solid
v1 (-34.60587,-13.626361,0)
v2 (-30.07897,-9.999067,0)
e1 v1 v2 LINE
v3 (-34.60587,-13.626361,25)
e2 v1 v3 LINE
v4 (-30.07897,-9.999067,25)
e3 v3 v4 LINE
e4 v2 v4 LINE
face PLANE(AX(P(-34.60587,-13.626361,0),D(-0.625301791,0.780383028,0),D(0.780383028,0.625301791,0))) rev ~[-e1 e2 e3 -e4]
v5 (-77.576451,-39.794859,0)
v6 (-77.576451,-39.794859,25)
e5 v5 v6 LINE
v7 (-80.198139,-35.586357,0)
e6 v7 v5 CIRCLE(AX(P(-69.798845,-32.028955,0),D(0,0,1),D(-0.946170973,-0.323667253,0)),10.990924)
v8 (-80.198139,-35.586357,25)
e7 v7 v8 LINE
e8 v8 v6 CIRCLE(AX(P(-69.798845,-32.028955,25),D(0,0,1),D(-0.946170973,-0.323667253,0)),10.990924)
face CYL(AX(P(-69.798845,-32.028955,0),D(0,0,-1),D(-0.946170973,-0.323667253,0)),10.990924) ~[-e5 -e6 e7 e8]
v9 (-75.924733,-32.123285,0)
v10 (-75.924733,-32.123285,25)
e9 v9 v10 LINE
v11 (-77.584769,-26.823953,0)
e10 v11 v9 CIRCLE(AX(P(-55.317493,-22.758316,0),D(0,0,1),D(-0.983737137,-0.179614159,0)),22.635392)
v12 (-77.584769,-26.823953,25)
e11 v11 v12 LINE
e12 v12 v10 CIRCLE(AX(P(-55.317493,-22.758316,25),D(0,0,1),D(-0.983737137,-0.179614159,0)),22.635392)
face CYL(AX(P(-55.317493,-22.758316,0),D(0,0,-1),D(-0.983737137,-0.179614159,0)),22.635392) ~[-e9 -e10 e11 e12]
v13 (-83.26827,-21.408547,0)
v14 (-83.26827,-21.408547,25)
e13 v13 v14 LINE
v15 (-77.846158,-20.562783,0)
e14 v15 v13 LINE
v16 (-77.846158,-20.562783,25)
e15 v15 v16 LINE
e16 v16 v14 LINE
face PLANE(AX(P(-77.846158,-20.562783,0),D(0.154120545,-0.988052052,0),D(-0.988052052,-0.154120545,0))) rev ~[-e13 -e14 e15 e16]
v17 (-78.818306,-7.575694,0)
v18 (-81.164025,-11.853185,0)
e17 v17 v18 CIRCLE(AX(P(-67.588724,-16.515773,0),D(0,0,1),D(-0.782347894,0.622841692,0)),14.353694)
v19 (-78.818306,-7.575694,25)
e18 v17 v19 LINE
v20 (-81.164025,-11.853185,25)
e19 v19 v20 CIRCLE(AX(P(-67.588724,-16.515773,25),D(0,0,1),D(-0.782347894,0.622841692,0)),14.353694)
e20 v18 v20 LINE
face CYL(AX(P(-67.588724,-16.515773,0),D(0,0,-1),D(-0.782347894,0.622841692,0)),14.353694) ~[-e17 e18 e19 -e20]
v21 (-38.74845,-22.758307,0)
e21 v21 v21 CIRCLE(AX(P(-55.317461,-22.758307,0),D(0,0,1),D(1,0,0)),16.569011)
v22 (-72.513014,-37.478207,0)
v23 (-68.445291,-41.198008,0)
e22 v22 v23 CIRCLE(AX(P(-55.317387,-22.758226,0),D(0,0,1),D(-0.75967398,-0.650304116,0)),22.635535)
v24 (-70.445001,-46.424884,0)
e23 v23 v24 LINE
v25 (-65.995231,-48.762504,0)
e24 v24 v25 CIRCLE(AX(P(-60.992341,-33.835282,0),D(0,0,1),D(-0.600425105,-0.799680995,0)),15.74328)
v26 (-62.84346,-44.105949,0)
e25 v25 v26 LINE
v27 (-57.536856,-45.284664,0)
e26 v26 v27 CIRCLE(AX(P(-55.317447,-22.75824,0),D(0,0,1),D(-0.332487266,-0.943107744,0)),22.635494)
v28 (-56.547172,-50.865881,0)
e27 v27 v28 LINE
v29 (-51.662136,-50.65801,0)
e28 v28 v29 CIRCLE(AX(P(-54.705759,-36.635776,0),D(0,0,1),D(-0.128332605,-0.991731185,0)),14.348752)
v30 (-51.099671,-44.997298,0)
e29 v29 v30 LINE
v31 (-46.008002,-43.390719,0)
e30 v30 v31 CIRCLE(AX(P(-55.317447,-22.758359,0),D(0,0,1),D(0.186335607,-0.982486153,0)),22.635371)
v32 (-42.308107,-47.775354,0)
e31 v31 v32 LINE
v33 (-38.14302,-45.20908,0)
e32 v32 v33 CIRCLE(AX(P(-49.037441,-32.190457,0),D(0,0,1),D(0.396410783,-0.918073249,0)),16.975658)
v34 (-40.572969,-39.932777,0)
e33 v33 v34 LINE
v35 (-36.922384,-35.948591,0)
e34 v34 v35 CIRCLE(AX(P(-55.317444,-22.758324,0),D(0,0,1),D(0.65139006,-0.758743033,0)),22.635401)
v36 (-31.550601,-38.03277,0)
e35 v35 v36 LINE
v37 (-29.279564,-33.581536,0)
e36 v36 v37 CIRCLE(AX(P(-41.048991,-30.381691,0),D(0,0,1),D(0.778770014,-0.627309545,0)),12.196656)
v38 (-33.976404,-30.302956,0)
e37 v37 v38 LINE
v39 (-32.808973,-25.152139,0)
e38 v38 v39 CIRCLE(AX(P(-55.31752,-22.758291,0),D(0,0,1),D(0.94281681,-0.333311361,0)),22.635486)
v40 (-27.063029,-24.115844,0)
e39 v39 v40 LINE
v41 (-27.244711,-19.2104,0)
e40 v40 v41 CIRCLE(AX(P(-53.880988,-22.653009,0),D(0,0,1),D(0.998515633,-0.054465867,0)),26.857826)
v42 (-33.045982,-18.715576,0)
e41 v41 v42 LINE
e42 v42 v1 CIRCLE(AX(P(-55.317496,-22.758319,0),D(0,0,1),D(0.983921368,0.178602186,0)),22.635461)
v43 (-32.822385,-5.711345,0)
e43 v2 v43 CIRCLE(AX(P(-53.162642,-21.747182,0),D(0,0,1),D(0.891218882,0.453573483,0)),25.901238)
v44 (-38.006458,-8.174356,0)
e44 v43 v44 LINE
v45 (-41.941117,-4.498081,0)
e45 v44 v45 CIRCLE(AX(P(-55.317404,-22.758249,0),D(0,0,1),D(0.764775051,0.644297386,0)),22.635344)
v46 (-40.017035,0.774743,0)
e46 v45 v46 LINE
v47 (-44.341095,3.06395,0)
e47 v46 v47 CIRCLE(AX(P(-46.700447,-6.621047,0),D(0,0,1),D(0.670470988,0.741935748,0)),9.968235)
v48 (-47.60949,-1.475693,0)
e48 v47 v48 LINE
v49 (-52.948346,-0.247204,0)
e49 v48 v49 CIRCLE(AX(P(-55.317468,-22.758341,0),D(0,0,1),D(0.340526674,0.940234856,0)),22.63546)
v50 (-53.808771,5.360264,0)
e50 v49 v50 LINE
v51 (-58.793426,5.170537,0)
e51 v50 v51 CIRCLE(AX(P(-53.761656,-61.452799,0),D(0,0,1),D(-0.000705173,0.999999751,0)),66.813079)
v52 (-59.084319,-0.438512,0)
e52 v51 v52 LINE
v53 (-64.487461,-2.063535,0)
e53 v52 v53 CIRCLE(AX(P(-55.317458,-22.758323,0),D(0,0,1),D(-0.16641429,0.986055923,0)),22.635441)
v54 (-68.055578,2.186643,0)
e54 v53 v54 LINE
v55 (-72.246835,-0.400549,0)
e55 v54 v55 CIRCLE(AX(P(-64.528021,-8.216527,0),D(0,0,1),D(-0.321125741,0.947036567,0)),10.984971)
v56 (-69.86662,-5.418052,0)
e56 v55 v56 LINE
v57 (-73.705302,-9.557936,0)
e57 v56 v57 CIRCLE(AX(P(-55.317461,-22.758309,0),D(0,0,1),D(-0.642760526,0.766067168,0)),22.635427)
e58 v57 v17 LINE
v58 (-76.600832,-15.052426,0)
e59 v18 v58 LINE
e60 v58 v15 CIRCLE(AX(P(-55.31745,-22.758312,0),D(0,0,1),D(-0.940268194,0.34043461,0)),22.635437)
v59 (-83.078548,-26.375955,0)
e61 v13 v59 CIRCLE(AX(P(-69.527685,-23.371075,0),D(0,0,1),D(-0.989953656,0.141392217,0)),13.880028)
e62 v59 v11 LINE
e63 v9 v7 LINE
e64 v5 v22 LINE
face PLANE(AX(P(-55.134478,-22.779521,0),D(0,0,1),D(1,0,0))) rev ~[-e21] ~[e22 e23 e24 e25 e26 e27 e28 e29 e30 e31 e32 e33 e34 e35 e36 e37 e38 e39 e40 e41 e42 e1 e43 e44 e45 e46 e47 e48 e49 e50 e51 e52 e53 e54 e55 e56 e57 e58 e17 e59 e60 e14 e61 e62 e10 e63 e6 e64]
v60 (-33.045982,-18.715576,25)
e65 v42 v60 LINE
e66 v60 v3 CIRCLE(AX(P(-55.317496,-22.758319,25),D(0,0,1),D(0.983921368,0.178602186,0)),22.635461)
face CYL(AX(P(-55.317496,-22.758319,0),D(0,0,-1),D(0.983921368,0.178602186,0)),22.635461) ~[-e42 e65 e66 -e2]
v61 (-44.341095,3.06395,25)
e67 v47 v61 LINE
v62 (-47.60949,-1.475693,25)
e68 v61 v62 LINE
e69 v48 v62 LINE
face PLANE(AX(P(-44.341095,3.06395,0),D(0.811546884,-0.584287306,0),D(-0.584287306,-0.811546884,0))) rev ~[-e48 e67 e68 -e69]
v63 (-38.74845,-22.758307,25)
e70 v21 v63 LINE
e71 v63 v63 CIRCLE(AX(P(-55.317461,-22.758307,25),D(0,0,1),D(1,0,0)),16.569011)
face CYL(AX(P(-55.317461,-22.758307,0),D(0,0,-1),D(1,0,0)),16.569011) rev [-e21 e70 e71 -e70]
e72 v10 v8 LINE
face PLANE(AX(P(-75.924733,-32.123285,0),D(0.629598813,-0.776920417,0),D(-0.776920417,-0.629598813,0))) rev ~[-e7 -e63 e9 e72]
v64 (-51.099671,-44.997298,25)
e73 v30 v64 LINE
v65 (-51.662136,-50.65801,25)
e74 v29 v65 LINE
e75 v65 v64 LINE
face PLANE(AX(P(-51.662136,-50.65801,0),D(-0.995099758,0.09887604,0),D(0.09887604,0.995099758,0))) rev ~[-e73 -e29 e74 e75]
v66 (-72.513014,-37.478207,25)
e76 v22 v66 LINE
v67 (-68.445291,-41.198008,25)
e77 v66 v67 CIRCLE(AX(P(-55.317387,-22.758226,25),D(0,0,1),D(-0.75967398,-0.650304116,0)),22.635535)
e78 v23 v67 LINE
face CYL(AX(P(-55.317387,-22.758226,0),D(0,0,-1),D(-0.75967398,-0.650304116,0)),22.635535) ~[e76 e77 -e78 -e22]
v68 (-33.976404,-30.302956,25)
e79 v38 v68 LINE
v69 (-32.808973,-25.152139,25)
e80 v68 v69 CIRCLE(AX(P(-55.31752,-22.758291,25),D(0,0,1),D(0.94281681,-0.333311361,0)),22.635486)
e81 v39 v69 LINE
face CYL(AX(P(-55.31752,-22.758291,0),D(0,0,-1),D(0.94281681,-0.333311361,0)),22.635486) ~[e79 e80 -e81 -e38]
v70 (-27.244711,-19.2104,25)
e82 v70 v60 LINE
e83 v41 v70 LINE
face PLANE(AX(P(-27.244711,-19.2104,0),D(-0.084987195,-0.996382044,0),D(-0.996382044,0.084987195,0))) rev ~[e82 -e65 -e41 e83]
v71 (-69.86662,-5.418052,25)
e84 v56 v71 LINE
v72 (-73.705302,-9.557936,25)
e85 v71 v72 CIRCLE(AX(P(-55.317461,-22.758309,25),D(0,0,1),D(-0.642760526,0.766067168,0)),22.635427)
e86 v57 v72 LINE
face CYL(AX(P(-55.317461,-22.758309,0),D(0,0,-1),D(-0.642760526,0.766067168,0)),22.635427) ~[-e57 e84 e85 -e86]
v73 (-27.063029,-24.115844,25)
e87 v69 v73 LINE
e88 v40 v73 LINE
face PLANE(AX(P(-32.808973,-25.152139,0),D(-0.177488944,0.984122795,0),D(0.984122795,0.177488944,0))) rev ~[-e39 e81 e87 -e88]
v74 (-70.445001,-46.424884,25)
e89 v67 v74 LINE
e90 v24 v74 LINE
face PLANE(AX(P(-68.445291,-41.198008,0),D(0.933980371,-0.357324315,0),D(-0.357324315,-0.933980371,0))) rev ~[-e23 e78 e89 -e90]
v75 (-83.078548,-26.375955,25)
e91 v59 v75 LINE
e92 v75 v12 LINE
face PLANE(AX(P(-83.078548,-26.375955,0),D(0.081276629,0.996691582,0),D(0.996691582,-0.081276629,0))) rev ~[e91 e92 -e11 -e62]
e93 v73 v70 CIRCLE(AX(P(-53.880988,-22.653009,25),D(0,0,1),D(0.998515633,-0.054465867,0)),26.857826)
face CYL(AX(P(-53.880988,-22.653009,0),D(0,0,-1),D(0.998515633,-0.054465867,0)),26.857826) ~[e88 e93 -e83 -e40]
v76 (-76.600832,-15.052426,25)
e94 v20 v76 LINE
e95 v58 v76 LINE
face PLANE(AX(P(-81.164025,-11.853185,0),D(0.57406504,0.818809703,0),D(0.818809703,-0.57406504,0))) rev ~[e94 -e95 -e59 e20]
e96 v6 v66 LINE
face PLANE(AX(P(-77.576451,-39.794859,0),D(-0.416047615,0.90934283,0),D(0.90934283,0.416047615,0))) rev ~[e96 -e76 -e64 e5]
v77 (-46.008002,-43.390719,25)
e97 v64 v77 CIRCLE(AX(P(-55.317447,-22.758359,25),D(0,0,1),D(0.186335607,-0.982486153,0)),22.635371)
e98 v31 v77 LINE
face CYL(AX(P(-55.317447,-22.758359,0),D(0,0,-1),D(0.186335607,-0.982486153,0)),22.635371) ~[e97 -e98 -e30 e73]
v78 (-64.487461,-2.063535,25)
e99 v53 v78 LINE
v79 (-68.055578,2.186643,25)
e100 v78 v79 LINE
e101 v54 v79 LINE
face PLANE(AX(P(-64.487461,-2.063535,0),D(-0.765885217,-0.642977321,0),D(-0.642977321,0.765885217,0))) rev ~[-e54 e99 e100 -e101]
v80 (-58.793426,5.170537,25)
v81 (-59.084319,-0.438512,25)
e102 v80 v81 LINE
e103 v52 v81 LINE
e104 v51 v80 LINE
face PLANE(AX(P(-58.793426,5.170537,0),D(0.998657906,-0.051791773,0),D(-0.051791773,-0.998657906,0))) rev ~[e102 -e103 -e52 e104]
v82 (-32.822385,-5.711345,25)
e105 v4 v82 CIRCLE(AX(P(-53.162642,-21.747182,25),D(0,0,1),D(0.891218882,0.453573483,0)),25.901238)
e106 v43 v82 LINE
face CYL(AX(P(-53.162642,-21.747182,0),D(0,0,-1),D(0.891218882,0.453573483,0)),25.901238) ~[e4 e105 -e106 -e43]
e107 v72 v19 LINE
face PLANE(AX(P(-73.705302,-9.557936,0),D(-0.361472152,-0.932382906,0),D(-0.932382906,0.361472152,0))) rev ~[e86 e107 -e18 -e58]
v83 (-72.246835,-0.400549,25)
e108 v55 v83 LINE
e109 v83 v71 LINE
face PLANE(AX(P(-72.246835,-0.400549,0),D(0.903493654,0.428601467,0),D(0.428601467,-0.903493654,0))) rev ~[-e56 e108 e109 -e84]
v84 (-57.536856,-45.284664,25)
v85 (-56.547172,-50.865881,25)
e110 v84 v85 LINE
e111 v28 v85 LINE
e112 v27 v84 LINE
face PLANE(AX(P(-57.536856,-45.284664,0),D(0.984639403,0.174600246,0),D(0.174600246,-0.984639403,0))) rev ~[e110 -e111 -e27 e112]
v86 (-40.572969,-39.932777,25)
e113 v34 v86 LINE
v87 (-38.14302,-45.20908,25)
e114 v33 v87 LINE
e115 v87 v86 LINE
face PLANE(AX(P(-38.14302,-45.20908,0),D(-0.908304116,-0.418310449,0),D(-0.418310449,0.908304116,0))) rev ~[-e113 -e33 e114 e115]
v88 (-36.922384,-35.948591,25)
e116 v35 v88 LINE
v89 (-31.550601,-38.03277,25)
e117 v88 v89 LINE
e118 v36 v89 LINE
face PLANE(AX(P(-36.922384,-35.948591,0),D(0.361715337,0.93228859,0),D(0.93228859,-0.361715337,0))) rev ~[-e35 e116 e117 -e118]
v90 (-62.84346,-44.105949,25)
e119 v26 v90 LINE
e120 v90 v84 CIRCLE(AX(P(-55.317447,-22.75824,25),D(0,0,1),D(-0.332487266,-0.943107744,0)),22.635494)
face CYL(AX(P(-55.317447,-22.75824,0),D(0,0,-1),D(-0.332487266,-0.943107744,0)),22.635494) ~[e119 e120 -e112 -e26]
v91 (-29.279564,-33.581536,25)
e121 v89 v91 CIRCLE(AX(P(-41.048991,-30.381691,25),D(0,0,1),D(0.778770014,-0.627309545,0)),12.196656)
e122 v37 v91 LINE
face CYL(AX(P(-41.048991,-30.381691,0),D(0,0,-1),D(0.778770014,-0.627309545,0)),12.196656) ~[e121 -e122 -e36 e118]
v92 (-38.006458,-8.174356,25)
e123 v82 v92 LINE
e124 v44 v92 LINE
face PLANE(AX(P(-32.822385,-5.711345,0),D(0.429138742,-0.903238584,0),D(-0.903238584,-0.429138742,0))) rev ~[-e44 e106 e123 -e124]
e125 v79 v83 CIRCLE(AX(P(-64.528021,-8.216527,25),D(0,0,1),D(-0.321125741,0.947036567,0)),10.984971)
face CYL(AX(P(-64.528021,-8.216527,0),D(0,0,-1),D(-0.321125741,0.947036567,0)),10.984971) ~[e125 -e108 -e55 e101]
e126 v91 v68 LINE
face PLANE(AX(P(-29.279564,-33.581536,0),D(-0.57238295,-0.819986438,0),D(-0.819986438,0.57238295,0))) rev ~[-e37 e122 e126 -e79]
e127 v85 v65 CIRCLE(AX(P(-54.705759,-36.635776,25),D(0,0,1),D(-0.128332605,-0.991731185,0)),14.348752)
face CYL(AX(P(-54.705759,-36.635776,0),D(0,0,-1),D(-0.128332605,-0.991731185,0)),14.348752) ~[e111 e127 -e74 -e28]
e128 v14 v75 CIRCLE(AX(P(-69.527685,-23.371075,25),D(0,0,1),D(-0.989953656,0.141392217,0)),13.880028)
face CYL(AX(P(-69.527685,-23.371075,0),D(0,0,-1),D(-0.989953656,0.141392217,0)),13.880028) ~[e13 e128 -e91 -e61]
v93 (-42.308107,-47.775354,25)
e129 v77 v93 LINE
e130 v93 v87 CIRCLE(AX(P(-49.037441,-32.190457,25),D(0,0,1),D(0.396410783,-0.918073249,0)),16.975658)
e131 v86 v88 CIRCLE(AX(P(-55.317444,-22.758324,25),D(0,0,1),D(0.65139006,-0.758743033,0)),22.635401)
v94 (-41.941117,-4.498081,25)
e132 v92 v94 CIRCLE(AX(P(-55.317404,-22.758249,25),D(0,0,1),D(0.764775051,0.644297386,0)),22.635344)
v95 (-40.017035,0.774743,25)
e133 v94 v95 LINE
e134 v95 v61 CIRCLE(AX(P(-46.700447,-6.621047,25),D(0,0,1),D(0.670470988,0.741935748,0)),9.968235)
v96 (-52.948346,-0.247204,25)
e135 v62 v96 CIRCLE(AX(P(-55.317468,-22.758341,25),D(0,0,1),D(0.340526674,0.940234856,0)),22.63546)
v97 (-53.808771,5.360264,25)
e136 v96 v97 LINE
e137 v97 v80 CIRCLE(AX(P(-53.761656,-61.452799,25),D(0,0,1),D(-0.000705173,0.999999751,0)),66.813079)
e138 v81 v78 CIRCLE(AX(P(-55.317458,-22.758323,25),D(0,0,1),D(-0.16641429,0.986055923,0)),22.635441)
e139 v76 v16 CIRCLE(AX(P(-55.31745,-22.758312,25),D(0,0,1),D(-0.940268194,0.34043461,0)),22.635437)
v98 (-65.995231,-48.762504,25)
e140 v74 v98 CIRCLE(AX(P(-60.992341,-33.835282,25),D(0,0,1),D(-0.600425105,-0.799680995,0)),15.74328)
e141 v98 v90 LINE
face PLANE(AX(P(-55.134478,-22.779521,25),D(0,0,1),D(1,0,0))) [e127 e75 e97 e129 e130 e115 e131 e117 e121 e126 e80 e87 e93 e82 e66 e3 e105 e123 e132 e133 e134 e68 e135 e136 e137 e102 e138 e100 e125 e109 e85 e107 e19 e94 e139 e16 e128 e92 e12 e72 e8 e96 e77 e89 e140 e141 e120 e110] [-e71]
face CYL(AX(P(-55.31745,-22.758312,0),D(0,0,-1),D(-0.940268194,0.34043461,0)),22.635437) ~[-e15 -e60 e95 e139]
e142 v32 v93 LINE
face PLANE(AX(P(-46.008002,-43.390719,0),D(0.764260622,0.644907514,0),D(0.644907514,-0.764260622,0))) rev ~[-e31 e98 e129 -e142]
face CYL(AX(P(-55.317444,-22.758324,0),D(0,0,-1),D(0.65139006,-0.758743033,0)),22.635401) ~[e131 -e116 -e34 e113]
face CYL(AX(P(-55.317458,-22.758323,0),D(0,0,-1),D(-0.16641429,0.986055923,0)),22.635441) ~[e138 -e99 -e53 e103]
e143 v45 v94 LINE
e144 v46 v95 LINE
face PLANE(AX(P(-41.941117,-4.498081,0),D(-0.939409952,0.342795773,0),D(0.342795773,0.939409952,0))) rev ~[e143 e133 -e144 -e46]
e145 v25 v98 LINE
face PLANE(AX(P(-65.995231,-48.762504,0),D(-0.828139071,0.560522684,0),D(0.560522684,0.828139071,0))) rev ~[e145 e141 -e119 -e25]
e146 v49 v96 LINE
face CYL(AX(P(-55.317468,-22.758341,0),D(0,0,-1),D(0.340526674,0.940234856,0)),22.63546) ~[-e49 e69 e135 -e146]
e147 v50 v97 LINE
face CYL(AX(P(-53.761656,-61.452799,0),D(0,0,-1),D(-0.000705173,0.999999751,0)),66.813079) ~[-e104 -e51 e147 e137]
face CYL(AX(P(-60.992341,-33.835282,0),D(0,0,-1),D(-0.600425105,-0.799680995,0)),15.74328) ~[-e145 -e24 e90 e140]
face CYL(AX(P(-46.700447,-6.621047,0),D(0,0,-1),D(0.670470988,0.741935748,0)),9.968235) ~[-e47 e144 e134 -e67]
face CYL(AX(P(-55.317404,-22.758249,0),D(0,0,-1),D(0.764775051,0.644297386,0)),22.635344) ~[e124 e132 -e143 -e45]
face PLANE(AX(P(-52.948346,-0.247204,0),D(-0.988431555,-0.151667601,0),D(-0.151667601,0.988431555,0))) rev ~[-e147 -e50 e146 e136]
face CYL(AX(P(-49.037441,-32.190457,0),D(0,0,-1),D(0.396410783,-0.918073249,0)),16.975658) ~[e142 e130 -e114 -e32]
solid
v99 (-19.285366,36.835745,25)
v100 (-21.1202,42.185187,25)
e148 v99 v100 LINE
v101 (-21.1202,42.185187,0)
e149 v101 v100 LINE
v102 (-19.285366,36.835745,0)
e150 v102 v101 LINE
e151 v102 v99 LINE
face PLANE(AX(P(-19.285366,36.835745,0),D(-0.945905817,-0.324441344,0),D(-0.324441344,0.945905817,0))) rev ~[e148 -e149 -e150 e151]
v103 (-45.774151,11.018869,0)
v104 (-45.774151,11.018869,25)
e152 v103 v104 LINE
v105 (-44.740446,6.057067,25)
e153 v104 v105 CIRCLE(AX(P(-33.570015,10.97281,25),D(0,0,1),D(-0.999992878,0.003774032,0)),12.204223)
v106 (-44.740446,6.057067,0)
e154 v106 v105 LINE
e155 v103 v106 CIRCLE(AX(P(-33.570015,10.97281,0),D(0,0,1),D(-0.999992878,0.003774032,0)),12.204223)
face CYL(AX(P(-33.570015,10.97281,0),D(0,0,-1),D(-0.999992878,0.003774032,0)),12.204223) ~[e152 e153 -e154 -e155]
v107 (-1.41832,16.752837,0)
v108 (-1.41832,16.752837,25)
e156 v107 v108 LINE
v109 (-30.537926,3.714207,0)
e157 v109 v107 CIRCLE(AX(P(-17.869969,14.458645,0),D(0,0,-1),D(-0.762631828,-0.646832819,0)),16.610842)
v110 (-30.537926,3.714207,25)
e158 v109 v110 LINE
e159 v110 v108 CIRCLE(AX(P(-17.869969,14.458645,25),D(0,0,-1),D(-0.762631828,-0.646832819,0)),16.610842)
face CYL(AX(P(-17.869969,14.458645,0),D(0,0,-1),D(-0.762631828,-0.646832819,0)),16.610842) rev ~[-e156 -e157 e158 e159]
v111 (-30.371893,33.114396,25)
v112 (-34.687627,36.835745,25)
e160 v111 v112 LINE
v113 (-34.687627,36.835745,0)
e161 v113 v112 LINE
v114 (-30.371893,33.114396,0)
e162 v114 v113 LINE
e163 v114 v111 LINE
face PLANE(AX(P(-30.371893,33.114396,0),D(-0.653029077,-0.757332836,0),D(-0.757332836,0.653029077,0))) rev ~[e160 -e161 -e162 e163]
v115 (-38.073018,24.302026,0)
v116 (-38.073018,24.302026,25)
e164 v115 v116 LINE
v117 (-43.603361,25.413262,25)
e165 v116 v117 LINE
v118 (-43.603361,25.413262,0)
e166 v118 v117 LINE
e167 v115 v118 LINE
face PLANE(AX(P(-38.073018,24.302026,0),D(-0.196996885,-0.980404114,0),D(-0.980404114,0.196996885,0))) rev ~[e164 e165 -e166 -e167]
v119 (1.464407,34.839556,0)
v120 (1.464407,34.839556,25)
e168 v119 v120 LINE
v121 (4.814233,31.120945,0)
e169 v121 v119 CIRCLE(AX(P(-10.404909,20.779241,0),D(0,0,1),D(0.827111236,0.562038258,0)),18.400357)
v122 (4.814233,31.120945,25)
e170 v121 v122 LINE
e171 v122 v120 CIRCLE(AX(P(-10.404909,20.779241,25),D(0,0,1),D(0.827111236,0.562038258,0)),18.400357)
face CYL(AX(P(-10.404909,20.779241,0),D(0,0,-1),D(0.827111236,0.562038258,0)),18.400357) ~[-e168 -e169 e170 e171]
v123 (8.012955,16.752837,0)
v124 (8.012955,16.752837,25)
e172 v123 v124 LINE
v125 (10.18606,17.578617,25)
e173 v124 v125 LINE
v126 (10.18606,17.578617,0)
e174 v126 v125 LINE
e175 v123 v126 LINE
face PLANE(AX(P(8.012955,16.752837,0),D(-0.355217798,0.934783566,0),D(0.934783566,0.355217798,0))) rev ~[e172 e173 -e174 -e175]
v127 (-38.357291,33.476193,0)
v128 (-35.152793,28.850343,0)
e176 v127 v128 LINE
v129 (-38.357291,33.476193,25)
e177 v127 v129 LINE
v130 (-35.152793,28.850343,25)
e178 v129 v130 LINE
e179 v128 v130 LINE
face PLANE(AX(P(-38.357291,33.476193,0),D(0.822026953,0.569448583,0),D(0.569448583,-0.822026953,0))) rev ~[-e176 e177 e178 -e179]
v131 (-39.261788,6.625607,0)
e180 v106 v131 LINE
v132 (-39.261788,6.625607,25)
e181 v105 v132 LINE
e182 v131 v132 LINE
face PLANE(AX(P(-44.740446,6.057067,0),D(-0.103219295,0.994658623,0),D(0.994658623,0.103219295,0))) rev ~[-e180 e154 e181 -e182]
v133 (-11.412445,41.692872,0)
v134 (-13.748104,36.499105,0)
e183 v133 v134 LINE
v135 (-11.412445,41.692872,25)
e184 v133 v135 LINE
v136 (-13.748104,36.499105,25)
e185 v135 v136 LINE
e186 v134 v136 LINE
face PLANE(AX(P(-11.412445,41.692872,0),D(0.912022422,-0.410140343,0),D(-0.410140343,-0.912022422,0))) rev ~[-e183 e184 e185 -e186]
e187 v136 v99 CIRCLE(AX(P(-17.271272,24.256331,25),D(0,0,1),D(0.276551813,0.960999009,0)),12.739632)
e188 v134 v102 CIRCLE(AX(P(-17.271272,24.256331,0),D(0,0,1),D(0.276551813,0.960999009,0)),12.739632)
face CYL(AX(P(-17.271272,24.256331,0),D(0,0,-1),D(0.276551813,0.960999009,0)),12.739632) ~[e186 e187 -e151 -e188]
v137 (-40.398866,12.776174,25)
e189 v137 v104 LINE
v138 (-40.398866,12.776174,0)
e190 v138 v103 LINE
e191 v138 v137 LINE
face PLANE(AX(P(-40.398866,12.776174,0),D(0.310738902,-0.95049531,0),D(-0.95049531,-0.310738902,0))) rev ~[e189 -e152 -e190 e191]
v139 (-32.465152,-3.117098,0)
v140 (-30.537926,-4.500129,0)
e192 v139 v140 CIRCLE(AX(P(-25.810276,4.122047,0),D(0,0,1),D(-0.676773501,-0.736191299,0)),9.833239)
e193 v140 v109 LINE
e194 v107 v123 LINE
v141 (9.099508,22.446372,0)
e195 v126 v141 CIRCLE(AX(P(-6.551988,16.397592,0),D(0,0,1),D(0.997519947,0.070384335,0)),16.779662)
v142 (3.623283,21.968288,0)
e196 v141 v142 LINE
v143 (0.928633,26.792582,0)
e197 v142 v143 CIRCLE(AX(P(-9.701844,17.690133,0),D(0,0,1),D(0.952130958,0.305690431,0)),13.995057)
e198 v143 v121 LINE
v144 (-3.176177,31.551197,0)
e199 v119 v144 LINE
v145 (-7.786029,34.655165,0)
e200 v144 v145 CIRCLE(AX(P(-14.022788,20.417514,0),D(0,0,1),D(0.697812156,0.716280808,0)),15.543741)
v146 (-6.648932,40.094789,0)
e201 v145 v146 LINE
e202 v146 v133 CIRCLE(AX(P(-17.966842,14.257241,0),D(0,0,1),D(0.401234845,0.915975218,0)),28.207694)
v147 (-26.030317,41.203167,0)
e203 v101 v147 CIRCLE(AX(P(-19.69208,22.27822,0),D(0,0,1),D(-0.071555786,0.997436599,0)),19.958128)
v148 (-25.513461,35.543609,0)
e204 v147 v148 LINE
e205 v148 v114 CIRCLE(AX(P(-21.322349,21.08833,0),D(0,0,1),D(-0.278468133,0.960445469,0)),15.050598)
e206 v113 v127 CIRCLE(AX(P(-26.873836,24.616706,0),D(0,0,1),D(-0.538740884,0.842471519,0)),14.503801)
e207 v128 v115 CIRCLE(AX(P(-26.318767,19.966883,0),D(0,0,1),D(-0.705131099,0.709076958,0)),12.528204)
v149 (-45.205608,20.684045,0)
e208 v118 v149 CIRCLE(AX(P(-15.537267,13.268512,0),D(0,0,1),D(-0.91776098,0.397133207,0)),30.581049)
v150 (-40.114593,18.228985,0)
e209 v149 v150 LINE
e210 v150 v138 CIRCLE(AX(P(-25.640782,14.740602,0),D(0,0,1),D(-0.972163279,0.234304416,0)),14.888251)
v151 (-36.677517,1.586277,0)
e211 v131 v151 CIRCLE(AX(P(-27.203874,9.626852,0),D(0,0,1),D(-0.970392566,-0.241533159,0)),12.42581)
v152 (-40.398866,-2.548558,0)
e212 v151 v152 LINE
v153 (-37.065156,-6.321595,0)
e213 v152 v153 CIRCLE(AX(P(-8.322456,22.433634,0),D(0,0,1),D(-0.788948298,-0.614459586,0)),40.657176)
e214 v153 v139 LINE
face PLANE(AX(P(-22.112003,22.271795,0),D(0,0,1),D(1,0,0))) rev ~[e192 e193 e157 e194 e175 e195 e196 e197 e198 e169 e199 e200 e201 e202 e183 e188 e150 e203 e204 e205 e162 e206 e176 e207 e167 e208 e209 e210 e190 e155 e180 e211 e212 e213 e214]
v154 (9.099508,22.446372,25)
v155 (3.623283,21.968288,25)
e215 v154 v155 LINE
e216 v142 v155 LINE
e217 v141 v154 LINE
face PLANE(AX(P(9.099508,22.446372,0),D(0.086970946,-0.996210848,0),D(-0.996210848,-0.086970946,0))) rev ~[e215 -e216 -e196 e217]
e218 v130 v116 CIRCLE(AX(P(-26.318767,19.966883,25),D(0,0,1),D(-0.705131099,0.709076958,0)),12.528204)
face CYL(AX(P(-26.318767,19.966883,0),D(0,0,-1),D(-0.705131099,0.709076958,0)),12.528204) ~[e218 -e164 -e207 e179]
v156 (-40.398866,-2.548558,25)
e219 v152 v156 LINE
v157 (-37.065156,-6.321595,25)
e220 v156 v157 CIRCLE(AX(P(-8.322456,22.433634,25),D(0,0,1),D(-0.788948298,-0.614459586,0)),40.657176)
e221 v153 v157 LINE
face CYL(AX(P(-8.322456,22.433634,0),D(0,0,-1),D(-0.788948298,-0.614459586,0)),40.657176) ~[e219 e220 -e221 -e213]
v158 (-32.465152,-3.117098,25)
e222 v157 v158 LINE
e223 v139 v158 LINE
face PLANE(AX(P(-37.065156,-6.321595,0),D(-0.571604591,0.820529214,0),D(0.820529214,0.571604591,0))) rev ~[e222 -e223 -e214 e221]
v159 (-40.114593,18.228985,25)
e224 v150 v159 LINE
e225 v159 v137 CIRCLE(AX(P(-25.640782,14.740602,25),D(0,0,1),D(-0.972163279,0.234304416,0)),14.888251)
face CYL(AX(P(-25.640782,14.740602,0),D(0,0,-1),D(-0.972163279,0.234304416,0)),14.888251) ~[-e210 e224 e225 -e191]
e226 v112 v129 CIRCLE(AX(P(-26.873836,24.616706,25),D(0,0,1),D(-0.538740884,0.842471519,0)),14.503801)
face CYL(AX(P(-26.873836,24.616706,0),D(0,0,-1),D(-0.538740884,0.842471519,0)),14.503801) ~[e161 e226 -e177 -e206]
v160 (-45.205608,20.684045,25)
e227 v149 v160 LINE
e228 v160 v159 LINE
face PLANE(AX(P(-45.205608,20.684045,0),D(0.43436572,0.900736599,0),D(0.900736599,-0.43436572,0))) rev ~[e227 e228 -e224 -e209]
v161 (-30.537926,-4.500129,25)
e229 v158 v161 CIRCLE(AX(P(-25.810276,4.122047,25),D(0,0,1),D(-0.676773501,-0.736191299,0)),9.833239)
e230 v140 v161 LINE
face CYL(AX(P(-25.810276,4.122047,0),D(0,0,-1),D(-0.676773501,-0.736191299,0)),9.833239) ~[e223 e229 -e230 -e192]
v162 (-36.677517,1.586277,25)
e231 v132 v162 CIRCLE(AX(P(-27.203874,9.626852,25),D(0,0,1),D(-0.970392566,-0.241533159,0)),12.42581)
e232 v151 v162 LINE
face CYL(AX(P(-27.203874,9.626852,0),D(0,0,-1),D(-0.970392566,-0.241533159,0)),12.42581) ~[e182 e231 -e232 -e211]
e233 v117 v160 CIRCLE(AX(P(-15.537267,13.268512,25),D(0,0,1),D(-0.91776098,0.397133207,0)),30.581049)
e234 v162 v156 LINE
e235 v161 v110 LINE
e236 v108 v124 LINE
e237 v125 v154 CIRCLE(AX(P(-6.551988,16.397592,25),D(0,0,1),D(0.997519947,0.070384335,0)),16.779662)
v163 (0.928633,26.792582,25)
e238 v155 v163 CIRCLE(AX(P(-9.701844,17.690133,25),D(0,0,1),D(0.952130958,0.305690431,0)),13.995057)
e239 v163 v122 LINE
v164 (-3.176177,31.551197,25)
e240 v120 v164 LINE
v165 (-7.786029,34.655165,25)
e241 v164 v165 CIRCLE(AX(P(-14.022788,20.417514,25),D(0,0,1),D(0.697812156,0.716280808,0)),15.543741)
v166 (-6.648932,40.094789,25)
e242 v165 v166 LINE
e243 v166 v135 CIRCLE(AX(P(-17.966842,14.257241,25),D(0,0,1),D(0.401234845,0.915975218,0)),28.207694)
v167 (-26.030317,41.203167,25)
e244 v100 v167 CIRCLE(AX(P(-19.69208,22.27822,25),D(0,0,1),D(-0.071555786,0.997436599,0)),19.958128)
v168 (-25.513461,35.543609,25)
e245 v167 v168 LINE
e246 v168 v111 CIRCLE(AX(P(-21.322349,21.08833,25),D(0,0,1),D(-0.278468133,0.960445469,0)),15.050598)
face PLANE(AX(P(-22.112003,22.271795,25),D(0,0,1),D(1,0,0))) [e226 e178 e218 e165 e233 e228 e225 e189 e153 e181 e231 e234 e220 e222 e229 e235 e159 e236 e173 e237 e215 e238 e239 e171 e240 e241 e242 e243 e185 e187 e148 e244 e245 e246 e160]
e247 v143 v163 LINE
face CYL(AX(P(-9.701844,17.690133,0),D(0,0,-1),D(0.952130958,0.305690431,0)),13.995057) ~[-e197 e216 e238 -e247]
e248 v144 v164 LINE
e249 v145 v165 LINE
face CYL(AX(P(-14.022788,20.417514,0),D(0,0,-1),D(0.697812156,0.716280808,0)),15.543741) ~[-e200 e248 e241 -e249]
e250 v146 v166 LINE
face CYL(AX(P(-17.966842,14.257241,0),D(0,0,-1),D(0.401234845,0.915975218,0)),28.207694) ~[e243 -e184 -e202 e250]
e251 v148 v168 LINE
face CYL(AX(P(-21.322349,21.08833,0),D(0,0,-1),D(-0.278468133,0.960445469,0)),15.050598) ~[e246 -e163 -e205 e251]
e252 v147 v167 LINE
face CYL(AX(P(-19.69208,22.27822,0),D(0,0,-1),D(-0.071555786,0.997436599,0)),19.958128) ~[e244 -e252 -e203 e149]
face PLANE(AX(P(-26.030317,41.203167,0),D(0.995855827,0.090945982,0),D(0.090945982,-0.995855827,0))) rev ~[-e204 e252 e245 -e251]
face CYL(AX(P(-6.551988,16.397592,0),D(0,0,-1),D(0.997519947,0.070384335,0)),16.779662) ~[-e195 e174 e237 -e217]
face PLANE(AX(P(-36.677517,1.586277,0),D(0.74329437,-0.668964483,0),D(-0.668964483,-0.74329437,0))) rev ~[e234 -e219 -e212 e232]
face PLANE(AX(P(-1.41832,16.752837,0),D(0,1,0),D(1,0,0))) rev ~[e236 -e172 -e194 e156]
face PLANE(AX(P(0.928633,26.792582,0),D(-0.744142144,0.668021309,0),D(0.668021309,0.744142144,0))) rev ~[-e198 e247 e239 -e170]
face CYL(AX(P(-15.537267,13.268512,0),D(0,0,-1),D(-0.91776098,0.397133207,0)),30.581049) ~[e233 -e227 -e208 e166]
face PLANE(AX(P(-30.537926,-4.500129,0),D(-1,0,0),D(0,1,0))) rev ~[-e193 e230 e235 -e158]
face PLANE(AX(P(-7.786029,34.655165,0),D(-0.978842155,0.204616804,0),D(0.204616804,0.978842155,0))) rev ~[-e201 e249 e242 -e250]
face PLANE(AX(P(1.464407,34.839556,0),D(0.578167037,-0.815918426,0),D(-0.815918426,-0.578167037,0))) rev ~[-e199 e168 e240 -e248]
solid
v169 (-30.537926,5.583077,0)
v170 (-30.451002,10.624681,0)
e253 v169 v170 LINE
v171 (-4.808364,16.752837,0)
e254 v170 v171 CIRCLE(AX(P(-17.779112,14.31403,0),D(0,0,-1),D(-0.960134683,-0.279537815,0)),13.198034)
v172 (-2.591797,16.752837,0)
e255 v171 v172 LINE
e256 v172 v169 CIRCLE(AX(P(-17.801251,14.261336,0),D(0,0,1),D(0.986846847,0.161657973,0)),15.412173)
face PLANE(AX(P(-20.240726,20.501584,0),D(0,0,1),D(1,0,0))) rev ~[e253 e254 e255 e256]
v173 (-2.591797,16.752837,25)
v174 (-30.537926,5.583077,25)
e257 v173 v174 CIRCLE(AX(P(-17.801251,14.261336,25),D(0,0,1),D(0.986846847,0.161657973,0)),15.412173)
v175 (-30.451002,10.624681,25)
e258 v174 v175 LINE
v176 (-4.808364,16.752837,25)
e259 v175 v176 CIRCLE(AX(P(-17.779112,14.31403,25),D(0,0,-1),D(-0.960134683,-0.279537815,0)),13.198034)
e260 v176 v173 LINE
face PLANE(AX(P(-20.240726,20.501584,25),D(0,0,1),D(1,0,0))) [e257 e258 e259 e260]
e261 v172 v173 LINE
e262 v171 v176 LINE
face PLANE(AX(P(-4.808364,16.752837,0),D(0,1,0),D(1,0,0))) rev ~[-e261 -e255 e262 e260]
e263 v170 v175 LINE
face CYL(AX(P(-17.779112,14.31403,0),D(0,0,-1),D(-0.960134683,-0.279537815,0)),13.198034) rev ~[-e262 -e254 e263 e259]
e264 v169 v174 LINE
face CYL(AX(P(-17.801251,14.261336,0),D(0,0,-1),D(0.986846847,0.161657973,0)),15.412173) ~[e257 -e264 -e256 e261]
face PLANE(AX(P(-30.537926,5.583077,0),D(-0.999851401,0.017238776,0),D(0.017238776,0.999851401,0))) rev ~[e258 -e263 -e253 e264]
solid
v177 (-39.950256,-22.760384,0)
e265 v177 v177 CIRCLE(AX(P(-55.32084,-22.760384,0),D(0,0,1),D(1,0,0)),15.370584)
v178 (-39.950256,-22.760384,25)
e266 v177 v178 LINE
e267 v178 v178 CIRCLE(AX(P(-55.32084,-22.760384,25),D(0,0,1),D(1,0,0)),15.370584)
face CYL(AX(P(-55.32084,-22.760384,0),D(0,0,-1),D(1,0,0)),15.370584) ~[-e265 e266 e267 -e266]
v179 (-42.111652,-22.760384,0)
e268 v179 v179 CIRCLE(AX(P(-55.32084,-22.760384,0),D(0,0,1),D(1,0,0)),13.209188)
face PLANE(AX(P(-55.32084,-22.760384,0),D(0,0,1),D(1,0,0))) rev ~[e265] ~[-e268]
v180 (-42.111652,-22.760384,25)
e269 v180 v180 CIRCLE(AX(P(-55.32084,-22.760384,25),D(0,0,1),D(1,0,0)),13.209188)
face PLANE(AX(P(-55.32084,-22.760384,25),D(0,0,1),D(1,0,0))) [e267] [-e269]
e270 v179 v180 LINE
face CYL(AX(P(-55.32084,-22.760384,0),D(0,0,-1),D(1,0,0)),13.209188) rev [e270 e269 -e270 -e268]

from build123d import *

# Parameters (mm, degrees)
F1_R     = 16.569011
F2_R     = 15.370584
F2_R_2   = 13.209188
F3_DEPTH = 25


with BuildPart() as f3:
    # F0 (on Top) + F1 (on Top) + F2 (on Top) → F3 (new body)
    with BuildSketch(Plane.XY):
        with BuildLine():
            Line((-30.537926, 5.583077), (-30.451002, 10.624681))
            ThreePointArc((-30.451002, 10.624681), (-20.846832, 27.150587), (-4.808364, 16.752837))
            Line((-4.808364, 16.752837), (-2.591797, 16.752837))
            ThreePointArc((-2.591797, 16.752837), (-23.521351, 28.572714), (-30.537926, 5.583077))
        make_face()
        with BuildLine():
            Line((-30.537926, -4.500129), (-30.537926, 3.714207))
            ThreePointArc((-30.537926, 3.714207), (-24.658235, 29.619104), (-1.41832, 16.752837))
            Line((-1.41832, 16.752837), (8.012955, 16.752837))
            Line((8.012955, 16.752837), (10.18606, 17.578617))
            ThreePointArc((10.18606, 17.578617), (9.824654, 20.05309), (9.099508, 22.446372))
            Line((9.099508, 22.446372), (3.623283, 21.968288))
            ThreePointArc((3.623283, 21.968288), (2.516429, 24.514752), (0.928633, 26.792582))
            Line((0.928633, 26.792582), (4.814233, 31.120945))
            ThreePointArc((4.814233, 31.120945), (3.266344, 33.094677), (1.464407, 34.839556))
            Line((1.464407, 34.839556), (-3.176177, 31.551197))
            ThreePointArc((-3.176177, 31.551197), (-5.341254, 33.310878), (-7.786029, 34.655165))
            Line((-7.786029, 34.655165), (-6.648932, 40.094789))
            ThreePointArc((-6.648932, 40.094789), (-8.995036, 41.000103), (-11.412445, 41.692872))
            Line((-11.412445, 41.692872), (-13.748104, 36.499105))
            ThreePointArc((-13.748104, 36.499105), (-16.498189, 36.972485), (-19.285366, 36.835745))
            Line((-19.285366, 36.835745), (-21.1202, 42.185187))
            ThreePointArc((-21.1202, 42.185187), (-23.606178, 41.848777), (-26.030317, 41.203167))
            Line((-26.030317, 41.203167), (-25.513461, 35.543609))
            ThreePointArc((-25.513461, 35.543609), (-28.053174, 34.549998), (-30.371893, 33.114396))
            Line((-30.371893, 33.114396), (-34.687627, 36.835745))
            ThreePointArc((-34.687627, 36.835745), (-36.667588, 35.314494), (-38.357291, 33.476193))
            Line((-38.357291, 33.476193), (-35.152793, 28.850343))
            ThreePointArc((-35.152793, 28.850343), (-36.861114, 26.735546), (-38.073018, 24.302026))
            Line((-38.073018, 24.302026), (-43.603361, 25.413262))
            ThreePointArc((-43.603361, 25.413262), (-44.501169, 23.08141), (-45.205608, 20.684045))
            Line((-45.205608, 20.684045), (-40.114593, 18.228985))
            ThreePointArc((-40.114593, 18.228985), (-40.508842, 15.515723), (-40.398866, 12.776174))
            Line((-40.398866, 12.776174), (-45.774151, 11.018869))
            ThreePointArc((-45.774151, 11.018869), (-45.517712, 8.483715), (-44.740446, 6.057067))
            Line((-44.740446, 6.057067), (-39.261788, 6.625607))
            ThreePointArc((-39.261788, 6.625607), (-38.260578, 3.95675), (-36.677517, 1.586277))
            Line((-36.677517, 1.586277), (-40.398866, -2.548558))
            ThreePointArc((-40.398866, -2.548558), (-38.790472, -4.48673), (-37.065156, -6.321595))
            Line((-37.065156, -6.321595), (-32.465152, -3.117098))
            ThreePointArc((-32.465152, -3.117098), (-31.543396, -3.866941), (-30.537926, -4.500129))
        make_face()
    with BuildSketch(Plane.XY):
        with BuildLine():
            Line((-72.246835, -0.400549), (-69.86662, -5.418052))
            ThreePointArc((-69.86662, -5.418052), (-71.915538, -7.367845), (-73.705302, -9.557936))
            Line((-73.705302, -9.557936), (-78.818306, -7.575694))
            ThreePointArc((-78.818306, -7.575694), (-80.174223, -9.614053), (-81.164025, -11.853185))
            Line((-81.164025, -11.853185), (-76.600832, -15.052426))
            ThreePointArc((-76.600832, -15.052426), (-77.396078, -17.768601), (-77.846158, -20.562783))
            Line((-77.846158, -20.562783), (-83.26827, -21.408547))
            ThreePointArc((-83.26827, -21.408547), (-83.397601, -23.900813), (-83.078548, -26.375955))
            Line((-83.078548, -26.375955), (-77.584769, -26.823953))
            ThreePointArc((-77.584769, -26.823953), (-76.917881, -29.52472), (-75.924733, -32.123285))
            Line((-75.924733, -32.123285), (-80.198139, -35.586357))
            ThreePointArc((-80.198139, -35.586357), (-79.127714, -37.840377), (-77.576451, -39.794859))
            Line((-77.576451, -39.794859), (-72.513014, -37.478207))
            ThreePointArc((-72.513014, -37.478207), (-70.592804, -39.462389), (-68.445291, -41.198008))
            Line((-68.445291, -41.198008), (-70.445001, -46.424884))
            ThreePointArc((-70.445001, -46.424884), (-68.314011, -47.772427), (-65.995231, -48.762504))
            Line((-65.995231, -48.762504), (-62.84346, -44.105949))
            ThreePointArc((-62.84346, -44.105949), (-60.225671, -44.855183), (-57.536856, -45.284664))
            Line((-57.536856, -45.284664), (-56.547172, -50.865881))
            ThreePointArc((-56.547172, -50.865881), (-54.095735, -50.971555), (-51.662136, -50.65801))
            Line((-51.662136, -50.65801), (-51.099671, -44.997298))
            ThreePointArc((-51.099671, -44.997298), (-48.506302, -44.344659), (-46.008002, -43.390719))
            Line((-46.008002, -43.390719), (-42.308107, -47.775354))
            ThreePointArc((-42.308107, -47.775354), (-40.132632, -46.643046), (-38.14302, -45.20908))
            Line((-38.14302, -45.20908), (-40.572969, -39.932777))
            ThreePointArc((-40.572969, -39.932777), (-38.628357, -38.050013), (-36.922384, -35.948591))
            Line((-36.922384, -35.948591), (-31.550601, -38.03277))
            ThreePointArc((-31.550601, -38.03277), (-30.184674, -35.924708), (-29.279564, -33.581536))
            Line((-29.279564, -33.581536), (-33.976404, -30.302956))
            ThreePointArc((-33.976404, -30.302956), (-33.241946, -27.761713), (-32.808973, -25.152139))
            Line((-32.808973, -25.152139), (-27.063029, -24.115844))
            ThreePointArc((-27.063029, -24.115844), (-27.041564, -21.658962), (-27.244711, -19.2104))
            Line((-27.244711, -19.2104), (-33.045982, -18.715576))
            ThreePointArc((-33.045982, -18.715576), (-33.675809, -16.124957), (-34.60587, -13.626361))
            Line((-34.60587, -13.626361), (-30.07897, -9.999067))
            ThreePointArc((-30.07897, -9.999067), (-31.345091, -7.787648), (-32.822385, -5.711345))
            Line((-32.822385, -5.711345), (-38.006458, -8.174356))
            ThreePointArc((-38.006458, -8.174356), (-39.864077, -6.218797), (-41.941117, -4.498081))
            Line((-41.941117, -4.498081), (-40.017035, 0.774743))
            ThreePointArc((-40.017035, 0.774743), (-42.036435, 2.18876), (-44.341095, 3.06395))
            Line((-44.341095, 3.06395), (-47.60949, -1.475693))
            ThreePointArc((-47.60949, -1.475693), (-50.241615, -0.699335), (-52.948346, -0.247204))
            Line((-52.948346, -0.247204), (-53.808771, 5.360264))
            ThreePointArc((-53.808771, 5.360264), (-56.30287, 5.311936), (-58.793426, 5.170537))
            Line((-58.793426, 5.170537), (-59.084319, -0.438512))
            ThreePointArc((-59.084319, -0.438512), (-61.836721, -1.082013), (-64.487461, -2.063535))
            Line((-64.487461, -2.063535), (-68.055578, 2.186643))
            ThreePointArc((-68.055578, 2.186643), (-70.298082, 1.130986), (-72.246835, -0.400549))
        make_face()
        with Locations((-55.317461, -22.758307)):
            Circle(F1_R, mode=Mode.SUBTRACT)
    with BuildSketch(Plane.XY):
        with Locations((-55.32084, -22.760384)):
            Circle(F2_R)
        with Locations((-55.32084, -22.760384)):
            Circle(F2_R_2, mode=Mode.SUBTRACT)
    extrude(amount=F3_DEPTH)


solid = f3.part
